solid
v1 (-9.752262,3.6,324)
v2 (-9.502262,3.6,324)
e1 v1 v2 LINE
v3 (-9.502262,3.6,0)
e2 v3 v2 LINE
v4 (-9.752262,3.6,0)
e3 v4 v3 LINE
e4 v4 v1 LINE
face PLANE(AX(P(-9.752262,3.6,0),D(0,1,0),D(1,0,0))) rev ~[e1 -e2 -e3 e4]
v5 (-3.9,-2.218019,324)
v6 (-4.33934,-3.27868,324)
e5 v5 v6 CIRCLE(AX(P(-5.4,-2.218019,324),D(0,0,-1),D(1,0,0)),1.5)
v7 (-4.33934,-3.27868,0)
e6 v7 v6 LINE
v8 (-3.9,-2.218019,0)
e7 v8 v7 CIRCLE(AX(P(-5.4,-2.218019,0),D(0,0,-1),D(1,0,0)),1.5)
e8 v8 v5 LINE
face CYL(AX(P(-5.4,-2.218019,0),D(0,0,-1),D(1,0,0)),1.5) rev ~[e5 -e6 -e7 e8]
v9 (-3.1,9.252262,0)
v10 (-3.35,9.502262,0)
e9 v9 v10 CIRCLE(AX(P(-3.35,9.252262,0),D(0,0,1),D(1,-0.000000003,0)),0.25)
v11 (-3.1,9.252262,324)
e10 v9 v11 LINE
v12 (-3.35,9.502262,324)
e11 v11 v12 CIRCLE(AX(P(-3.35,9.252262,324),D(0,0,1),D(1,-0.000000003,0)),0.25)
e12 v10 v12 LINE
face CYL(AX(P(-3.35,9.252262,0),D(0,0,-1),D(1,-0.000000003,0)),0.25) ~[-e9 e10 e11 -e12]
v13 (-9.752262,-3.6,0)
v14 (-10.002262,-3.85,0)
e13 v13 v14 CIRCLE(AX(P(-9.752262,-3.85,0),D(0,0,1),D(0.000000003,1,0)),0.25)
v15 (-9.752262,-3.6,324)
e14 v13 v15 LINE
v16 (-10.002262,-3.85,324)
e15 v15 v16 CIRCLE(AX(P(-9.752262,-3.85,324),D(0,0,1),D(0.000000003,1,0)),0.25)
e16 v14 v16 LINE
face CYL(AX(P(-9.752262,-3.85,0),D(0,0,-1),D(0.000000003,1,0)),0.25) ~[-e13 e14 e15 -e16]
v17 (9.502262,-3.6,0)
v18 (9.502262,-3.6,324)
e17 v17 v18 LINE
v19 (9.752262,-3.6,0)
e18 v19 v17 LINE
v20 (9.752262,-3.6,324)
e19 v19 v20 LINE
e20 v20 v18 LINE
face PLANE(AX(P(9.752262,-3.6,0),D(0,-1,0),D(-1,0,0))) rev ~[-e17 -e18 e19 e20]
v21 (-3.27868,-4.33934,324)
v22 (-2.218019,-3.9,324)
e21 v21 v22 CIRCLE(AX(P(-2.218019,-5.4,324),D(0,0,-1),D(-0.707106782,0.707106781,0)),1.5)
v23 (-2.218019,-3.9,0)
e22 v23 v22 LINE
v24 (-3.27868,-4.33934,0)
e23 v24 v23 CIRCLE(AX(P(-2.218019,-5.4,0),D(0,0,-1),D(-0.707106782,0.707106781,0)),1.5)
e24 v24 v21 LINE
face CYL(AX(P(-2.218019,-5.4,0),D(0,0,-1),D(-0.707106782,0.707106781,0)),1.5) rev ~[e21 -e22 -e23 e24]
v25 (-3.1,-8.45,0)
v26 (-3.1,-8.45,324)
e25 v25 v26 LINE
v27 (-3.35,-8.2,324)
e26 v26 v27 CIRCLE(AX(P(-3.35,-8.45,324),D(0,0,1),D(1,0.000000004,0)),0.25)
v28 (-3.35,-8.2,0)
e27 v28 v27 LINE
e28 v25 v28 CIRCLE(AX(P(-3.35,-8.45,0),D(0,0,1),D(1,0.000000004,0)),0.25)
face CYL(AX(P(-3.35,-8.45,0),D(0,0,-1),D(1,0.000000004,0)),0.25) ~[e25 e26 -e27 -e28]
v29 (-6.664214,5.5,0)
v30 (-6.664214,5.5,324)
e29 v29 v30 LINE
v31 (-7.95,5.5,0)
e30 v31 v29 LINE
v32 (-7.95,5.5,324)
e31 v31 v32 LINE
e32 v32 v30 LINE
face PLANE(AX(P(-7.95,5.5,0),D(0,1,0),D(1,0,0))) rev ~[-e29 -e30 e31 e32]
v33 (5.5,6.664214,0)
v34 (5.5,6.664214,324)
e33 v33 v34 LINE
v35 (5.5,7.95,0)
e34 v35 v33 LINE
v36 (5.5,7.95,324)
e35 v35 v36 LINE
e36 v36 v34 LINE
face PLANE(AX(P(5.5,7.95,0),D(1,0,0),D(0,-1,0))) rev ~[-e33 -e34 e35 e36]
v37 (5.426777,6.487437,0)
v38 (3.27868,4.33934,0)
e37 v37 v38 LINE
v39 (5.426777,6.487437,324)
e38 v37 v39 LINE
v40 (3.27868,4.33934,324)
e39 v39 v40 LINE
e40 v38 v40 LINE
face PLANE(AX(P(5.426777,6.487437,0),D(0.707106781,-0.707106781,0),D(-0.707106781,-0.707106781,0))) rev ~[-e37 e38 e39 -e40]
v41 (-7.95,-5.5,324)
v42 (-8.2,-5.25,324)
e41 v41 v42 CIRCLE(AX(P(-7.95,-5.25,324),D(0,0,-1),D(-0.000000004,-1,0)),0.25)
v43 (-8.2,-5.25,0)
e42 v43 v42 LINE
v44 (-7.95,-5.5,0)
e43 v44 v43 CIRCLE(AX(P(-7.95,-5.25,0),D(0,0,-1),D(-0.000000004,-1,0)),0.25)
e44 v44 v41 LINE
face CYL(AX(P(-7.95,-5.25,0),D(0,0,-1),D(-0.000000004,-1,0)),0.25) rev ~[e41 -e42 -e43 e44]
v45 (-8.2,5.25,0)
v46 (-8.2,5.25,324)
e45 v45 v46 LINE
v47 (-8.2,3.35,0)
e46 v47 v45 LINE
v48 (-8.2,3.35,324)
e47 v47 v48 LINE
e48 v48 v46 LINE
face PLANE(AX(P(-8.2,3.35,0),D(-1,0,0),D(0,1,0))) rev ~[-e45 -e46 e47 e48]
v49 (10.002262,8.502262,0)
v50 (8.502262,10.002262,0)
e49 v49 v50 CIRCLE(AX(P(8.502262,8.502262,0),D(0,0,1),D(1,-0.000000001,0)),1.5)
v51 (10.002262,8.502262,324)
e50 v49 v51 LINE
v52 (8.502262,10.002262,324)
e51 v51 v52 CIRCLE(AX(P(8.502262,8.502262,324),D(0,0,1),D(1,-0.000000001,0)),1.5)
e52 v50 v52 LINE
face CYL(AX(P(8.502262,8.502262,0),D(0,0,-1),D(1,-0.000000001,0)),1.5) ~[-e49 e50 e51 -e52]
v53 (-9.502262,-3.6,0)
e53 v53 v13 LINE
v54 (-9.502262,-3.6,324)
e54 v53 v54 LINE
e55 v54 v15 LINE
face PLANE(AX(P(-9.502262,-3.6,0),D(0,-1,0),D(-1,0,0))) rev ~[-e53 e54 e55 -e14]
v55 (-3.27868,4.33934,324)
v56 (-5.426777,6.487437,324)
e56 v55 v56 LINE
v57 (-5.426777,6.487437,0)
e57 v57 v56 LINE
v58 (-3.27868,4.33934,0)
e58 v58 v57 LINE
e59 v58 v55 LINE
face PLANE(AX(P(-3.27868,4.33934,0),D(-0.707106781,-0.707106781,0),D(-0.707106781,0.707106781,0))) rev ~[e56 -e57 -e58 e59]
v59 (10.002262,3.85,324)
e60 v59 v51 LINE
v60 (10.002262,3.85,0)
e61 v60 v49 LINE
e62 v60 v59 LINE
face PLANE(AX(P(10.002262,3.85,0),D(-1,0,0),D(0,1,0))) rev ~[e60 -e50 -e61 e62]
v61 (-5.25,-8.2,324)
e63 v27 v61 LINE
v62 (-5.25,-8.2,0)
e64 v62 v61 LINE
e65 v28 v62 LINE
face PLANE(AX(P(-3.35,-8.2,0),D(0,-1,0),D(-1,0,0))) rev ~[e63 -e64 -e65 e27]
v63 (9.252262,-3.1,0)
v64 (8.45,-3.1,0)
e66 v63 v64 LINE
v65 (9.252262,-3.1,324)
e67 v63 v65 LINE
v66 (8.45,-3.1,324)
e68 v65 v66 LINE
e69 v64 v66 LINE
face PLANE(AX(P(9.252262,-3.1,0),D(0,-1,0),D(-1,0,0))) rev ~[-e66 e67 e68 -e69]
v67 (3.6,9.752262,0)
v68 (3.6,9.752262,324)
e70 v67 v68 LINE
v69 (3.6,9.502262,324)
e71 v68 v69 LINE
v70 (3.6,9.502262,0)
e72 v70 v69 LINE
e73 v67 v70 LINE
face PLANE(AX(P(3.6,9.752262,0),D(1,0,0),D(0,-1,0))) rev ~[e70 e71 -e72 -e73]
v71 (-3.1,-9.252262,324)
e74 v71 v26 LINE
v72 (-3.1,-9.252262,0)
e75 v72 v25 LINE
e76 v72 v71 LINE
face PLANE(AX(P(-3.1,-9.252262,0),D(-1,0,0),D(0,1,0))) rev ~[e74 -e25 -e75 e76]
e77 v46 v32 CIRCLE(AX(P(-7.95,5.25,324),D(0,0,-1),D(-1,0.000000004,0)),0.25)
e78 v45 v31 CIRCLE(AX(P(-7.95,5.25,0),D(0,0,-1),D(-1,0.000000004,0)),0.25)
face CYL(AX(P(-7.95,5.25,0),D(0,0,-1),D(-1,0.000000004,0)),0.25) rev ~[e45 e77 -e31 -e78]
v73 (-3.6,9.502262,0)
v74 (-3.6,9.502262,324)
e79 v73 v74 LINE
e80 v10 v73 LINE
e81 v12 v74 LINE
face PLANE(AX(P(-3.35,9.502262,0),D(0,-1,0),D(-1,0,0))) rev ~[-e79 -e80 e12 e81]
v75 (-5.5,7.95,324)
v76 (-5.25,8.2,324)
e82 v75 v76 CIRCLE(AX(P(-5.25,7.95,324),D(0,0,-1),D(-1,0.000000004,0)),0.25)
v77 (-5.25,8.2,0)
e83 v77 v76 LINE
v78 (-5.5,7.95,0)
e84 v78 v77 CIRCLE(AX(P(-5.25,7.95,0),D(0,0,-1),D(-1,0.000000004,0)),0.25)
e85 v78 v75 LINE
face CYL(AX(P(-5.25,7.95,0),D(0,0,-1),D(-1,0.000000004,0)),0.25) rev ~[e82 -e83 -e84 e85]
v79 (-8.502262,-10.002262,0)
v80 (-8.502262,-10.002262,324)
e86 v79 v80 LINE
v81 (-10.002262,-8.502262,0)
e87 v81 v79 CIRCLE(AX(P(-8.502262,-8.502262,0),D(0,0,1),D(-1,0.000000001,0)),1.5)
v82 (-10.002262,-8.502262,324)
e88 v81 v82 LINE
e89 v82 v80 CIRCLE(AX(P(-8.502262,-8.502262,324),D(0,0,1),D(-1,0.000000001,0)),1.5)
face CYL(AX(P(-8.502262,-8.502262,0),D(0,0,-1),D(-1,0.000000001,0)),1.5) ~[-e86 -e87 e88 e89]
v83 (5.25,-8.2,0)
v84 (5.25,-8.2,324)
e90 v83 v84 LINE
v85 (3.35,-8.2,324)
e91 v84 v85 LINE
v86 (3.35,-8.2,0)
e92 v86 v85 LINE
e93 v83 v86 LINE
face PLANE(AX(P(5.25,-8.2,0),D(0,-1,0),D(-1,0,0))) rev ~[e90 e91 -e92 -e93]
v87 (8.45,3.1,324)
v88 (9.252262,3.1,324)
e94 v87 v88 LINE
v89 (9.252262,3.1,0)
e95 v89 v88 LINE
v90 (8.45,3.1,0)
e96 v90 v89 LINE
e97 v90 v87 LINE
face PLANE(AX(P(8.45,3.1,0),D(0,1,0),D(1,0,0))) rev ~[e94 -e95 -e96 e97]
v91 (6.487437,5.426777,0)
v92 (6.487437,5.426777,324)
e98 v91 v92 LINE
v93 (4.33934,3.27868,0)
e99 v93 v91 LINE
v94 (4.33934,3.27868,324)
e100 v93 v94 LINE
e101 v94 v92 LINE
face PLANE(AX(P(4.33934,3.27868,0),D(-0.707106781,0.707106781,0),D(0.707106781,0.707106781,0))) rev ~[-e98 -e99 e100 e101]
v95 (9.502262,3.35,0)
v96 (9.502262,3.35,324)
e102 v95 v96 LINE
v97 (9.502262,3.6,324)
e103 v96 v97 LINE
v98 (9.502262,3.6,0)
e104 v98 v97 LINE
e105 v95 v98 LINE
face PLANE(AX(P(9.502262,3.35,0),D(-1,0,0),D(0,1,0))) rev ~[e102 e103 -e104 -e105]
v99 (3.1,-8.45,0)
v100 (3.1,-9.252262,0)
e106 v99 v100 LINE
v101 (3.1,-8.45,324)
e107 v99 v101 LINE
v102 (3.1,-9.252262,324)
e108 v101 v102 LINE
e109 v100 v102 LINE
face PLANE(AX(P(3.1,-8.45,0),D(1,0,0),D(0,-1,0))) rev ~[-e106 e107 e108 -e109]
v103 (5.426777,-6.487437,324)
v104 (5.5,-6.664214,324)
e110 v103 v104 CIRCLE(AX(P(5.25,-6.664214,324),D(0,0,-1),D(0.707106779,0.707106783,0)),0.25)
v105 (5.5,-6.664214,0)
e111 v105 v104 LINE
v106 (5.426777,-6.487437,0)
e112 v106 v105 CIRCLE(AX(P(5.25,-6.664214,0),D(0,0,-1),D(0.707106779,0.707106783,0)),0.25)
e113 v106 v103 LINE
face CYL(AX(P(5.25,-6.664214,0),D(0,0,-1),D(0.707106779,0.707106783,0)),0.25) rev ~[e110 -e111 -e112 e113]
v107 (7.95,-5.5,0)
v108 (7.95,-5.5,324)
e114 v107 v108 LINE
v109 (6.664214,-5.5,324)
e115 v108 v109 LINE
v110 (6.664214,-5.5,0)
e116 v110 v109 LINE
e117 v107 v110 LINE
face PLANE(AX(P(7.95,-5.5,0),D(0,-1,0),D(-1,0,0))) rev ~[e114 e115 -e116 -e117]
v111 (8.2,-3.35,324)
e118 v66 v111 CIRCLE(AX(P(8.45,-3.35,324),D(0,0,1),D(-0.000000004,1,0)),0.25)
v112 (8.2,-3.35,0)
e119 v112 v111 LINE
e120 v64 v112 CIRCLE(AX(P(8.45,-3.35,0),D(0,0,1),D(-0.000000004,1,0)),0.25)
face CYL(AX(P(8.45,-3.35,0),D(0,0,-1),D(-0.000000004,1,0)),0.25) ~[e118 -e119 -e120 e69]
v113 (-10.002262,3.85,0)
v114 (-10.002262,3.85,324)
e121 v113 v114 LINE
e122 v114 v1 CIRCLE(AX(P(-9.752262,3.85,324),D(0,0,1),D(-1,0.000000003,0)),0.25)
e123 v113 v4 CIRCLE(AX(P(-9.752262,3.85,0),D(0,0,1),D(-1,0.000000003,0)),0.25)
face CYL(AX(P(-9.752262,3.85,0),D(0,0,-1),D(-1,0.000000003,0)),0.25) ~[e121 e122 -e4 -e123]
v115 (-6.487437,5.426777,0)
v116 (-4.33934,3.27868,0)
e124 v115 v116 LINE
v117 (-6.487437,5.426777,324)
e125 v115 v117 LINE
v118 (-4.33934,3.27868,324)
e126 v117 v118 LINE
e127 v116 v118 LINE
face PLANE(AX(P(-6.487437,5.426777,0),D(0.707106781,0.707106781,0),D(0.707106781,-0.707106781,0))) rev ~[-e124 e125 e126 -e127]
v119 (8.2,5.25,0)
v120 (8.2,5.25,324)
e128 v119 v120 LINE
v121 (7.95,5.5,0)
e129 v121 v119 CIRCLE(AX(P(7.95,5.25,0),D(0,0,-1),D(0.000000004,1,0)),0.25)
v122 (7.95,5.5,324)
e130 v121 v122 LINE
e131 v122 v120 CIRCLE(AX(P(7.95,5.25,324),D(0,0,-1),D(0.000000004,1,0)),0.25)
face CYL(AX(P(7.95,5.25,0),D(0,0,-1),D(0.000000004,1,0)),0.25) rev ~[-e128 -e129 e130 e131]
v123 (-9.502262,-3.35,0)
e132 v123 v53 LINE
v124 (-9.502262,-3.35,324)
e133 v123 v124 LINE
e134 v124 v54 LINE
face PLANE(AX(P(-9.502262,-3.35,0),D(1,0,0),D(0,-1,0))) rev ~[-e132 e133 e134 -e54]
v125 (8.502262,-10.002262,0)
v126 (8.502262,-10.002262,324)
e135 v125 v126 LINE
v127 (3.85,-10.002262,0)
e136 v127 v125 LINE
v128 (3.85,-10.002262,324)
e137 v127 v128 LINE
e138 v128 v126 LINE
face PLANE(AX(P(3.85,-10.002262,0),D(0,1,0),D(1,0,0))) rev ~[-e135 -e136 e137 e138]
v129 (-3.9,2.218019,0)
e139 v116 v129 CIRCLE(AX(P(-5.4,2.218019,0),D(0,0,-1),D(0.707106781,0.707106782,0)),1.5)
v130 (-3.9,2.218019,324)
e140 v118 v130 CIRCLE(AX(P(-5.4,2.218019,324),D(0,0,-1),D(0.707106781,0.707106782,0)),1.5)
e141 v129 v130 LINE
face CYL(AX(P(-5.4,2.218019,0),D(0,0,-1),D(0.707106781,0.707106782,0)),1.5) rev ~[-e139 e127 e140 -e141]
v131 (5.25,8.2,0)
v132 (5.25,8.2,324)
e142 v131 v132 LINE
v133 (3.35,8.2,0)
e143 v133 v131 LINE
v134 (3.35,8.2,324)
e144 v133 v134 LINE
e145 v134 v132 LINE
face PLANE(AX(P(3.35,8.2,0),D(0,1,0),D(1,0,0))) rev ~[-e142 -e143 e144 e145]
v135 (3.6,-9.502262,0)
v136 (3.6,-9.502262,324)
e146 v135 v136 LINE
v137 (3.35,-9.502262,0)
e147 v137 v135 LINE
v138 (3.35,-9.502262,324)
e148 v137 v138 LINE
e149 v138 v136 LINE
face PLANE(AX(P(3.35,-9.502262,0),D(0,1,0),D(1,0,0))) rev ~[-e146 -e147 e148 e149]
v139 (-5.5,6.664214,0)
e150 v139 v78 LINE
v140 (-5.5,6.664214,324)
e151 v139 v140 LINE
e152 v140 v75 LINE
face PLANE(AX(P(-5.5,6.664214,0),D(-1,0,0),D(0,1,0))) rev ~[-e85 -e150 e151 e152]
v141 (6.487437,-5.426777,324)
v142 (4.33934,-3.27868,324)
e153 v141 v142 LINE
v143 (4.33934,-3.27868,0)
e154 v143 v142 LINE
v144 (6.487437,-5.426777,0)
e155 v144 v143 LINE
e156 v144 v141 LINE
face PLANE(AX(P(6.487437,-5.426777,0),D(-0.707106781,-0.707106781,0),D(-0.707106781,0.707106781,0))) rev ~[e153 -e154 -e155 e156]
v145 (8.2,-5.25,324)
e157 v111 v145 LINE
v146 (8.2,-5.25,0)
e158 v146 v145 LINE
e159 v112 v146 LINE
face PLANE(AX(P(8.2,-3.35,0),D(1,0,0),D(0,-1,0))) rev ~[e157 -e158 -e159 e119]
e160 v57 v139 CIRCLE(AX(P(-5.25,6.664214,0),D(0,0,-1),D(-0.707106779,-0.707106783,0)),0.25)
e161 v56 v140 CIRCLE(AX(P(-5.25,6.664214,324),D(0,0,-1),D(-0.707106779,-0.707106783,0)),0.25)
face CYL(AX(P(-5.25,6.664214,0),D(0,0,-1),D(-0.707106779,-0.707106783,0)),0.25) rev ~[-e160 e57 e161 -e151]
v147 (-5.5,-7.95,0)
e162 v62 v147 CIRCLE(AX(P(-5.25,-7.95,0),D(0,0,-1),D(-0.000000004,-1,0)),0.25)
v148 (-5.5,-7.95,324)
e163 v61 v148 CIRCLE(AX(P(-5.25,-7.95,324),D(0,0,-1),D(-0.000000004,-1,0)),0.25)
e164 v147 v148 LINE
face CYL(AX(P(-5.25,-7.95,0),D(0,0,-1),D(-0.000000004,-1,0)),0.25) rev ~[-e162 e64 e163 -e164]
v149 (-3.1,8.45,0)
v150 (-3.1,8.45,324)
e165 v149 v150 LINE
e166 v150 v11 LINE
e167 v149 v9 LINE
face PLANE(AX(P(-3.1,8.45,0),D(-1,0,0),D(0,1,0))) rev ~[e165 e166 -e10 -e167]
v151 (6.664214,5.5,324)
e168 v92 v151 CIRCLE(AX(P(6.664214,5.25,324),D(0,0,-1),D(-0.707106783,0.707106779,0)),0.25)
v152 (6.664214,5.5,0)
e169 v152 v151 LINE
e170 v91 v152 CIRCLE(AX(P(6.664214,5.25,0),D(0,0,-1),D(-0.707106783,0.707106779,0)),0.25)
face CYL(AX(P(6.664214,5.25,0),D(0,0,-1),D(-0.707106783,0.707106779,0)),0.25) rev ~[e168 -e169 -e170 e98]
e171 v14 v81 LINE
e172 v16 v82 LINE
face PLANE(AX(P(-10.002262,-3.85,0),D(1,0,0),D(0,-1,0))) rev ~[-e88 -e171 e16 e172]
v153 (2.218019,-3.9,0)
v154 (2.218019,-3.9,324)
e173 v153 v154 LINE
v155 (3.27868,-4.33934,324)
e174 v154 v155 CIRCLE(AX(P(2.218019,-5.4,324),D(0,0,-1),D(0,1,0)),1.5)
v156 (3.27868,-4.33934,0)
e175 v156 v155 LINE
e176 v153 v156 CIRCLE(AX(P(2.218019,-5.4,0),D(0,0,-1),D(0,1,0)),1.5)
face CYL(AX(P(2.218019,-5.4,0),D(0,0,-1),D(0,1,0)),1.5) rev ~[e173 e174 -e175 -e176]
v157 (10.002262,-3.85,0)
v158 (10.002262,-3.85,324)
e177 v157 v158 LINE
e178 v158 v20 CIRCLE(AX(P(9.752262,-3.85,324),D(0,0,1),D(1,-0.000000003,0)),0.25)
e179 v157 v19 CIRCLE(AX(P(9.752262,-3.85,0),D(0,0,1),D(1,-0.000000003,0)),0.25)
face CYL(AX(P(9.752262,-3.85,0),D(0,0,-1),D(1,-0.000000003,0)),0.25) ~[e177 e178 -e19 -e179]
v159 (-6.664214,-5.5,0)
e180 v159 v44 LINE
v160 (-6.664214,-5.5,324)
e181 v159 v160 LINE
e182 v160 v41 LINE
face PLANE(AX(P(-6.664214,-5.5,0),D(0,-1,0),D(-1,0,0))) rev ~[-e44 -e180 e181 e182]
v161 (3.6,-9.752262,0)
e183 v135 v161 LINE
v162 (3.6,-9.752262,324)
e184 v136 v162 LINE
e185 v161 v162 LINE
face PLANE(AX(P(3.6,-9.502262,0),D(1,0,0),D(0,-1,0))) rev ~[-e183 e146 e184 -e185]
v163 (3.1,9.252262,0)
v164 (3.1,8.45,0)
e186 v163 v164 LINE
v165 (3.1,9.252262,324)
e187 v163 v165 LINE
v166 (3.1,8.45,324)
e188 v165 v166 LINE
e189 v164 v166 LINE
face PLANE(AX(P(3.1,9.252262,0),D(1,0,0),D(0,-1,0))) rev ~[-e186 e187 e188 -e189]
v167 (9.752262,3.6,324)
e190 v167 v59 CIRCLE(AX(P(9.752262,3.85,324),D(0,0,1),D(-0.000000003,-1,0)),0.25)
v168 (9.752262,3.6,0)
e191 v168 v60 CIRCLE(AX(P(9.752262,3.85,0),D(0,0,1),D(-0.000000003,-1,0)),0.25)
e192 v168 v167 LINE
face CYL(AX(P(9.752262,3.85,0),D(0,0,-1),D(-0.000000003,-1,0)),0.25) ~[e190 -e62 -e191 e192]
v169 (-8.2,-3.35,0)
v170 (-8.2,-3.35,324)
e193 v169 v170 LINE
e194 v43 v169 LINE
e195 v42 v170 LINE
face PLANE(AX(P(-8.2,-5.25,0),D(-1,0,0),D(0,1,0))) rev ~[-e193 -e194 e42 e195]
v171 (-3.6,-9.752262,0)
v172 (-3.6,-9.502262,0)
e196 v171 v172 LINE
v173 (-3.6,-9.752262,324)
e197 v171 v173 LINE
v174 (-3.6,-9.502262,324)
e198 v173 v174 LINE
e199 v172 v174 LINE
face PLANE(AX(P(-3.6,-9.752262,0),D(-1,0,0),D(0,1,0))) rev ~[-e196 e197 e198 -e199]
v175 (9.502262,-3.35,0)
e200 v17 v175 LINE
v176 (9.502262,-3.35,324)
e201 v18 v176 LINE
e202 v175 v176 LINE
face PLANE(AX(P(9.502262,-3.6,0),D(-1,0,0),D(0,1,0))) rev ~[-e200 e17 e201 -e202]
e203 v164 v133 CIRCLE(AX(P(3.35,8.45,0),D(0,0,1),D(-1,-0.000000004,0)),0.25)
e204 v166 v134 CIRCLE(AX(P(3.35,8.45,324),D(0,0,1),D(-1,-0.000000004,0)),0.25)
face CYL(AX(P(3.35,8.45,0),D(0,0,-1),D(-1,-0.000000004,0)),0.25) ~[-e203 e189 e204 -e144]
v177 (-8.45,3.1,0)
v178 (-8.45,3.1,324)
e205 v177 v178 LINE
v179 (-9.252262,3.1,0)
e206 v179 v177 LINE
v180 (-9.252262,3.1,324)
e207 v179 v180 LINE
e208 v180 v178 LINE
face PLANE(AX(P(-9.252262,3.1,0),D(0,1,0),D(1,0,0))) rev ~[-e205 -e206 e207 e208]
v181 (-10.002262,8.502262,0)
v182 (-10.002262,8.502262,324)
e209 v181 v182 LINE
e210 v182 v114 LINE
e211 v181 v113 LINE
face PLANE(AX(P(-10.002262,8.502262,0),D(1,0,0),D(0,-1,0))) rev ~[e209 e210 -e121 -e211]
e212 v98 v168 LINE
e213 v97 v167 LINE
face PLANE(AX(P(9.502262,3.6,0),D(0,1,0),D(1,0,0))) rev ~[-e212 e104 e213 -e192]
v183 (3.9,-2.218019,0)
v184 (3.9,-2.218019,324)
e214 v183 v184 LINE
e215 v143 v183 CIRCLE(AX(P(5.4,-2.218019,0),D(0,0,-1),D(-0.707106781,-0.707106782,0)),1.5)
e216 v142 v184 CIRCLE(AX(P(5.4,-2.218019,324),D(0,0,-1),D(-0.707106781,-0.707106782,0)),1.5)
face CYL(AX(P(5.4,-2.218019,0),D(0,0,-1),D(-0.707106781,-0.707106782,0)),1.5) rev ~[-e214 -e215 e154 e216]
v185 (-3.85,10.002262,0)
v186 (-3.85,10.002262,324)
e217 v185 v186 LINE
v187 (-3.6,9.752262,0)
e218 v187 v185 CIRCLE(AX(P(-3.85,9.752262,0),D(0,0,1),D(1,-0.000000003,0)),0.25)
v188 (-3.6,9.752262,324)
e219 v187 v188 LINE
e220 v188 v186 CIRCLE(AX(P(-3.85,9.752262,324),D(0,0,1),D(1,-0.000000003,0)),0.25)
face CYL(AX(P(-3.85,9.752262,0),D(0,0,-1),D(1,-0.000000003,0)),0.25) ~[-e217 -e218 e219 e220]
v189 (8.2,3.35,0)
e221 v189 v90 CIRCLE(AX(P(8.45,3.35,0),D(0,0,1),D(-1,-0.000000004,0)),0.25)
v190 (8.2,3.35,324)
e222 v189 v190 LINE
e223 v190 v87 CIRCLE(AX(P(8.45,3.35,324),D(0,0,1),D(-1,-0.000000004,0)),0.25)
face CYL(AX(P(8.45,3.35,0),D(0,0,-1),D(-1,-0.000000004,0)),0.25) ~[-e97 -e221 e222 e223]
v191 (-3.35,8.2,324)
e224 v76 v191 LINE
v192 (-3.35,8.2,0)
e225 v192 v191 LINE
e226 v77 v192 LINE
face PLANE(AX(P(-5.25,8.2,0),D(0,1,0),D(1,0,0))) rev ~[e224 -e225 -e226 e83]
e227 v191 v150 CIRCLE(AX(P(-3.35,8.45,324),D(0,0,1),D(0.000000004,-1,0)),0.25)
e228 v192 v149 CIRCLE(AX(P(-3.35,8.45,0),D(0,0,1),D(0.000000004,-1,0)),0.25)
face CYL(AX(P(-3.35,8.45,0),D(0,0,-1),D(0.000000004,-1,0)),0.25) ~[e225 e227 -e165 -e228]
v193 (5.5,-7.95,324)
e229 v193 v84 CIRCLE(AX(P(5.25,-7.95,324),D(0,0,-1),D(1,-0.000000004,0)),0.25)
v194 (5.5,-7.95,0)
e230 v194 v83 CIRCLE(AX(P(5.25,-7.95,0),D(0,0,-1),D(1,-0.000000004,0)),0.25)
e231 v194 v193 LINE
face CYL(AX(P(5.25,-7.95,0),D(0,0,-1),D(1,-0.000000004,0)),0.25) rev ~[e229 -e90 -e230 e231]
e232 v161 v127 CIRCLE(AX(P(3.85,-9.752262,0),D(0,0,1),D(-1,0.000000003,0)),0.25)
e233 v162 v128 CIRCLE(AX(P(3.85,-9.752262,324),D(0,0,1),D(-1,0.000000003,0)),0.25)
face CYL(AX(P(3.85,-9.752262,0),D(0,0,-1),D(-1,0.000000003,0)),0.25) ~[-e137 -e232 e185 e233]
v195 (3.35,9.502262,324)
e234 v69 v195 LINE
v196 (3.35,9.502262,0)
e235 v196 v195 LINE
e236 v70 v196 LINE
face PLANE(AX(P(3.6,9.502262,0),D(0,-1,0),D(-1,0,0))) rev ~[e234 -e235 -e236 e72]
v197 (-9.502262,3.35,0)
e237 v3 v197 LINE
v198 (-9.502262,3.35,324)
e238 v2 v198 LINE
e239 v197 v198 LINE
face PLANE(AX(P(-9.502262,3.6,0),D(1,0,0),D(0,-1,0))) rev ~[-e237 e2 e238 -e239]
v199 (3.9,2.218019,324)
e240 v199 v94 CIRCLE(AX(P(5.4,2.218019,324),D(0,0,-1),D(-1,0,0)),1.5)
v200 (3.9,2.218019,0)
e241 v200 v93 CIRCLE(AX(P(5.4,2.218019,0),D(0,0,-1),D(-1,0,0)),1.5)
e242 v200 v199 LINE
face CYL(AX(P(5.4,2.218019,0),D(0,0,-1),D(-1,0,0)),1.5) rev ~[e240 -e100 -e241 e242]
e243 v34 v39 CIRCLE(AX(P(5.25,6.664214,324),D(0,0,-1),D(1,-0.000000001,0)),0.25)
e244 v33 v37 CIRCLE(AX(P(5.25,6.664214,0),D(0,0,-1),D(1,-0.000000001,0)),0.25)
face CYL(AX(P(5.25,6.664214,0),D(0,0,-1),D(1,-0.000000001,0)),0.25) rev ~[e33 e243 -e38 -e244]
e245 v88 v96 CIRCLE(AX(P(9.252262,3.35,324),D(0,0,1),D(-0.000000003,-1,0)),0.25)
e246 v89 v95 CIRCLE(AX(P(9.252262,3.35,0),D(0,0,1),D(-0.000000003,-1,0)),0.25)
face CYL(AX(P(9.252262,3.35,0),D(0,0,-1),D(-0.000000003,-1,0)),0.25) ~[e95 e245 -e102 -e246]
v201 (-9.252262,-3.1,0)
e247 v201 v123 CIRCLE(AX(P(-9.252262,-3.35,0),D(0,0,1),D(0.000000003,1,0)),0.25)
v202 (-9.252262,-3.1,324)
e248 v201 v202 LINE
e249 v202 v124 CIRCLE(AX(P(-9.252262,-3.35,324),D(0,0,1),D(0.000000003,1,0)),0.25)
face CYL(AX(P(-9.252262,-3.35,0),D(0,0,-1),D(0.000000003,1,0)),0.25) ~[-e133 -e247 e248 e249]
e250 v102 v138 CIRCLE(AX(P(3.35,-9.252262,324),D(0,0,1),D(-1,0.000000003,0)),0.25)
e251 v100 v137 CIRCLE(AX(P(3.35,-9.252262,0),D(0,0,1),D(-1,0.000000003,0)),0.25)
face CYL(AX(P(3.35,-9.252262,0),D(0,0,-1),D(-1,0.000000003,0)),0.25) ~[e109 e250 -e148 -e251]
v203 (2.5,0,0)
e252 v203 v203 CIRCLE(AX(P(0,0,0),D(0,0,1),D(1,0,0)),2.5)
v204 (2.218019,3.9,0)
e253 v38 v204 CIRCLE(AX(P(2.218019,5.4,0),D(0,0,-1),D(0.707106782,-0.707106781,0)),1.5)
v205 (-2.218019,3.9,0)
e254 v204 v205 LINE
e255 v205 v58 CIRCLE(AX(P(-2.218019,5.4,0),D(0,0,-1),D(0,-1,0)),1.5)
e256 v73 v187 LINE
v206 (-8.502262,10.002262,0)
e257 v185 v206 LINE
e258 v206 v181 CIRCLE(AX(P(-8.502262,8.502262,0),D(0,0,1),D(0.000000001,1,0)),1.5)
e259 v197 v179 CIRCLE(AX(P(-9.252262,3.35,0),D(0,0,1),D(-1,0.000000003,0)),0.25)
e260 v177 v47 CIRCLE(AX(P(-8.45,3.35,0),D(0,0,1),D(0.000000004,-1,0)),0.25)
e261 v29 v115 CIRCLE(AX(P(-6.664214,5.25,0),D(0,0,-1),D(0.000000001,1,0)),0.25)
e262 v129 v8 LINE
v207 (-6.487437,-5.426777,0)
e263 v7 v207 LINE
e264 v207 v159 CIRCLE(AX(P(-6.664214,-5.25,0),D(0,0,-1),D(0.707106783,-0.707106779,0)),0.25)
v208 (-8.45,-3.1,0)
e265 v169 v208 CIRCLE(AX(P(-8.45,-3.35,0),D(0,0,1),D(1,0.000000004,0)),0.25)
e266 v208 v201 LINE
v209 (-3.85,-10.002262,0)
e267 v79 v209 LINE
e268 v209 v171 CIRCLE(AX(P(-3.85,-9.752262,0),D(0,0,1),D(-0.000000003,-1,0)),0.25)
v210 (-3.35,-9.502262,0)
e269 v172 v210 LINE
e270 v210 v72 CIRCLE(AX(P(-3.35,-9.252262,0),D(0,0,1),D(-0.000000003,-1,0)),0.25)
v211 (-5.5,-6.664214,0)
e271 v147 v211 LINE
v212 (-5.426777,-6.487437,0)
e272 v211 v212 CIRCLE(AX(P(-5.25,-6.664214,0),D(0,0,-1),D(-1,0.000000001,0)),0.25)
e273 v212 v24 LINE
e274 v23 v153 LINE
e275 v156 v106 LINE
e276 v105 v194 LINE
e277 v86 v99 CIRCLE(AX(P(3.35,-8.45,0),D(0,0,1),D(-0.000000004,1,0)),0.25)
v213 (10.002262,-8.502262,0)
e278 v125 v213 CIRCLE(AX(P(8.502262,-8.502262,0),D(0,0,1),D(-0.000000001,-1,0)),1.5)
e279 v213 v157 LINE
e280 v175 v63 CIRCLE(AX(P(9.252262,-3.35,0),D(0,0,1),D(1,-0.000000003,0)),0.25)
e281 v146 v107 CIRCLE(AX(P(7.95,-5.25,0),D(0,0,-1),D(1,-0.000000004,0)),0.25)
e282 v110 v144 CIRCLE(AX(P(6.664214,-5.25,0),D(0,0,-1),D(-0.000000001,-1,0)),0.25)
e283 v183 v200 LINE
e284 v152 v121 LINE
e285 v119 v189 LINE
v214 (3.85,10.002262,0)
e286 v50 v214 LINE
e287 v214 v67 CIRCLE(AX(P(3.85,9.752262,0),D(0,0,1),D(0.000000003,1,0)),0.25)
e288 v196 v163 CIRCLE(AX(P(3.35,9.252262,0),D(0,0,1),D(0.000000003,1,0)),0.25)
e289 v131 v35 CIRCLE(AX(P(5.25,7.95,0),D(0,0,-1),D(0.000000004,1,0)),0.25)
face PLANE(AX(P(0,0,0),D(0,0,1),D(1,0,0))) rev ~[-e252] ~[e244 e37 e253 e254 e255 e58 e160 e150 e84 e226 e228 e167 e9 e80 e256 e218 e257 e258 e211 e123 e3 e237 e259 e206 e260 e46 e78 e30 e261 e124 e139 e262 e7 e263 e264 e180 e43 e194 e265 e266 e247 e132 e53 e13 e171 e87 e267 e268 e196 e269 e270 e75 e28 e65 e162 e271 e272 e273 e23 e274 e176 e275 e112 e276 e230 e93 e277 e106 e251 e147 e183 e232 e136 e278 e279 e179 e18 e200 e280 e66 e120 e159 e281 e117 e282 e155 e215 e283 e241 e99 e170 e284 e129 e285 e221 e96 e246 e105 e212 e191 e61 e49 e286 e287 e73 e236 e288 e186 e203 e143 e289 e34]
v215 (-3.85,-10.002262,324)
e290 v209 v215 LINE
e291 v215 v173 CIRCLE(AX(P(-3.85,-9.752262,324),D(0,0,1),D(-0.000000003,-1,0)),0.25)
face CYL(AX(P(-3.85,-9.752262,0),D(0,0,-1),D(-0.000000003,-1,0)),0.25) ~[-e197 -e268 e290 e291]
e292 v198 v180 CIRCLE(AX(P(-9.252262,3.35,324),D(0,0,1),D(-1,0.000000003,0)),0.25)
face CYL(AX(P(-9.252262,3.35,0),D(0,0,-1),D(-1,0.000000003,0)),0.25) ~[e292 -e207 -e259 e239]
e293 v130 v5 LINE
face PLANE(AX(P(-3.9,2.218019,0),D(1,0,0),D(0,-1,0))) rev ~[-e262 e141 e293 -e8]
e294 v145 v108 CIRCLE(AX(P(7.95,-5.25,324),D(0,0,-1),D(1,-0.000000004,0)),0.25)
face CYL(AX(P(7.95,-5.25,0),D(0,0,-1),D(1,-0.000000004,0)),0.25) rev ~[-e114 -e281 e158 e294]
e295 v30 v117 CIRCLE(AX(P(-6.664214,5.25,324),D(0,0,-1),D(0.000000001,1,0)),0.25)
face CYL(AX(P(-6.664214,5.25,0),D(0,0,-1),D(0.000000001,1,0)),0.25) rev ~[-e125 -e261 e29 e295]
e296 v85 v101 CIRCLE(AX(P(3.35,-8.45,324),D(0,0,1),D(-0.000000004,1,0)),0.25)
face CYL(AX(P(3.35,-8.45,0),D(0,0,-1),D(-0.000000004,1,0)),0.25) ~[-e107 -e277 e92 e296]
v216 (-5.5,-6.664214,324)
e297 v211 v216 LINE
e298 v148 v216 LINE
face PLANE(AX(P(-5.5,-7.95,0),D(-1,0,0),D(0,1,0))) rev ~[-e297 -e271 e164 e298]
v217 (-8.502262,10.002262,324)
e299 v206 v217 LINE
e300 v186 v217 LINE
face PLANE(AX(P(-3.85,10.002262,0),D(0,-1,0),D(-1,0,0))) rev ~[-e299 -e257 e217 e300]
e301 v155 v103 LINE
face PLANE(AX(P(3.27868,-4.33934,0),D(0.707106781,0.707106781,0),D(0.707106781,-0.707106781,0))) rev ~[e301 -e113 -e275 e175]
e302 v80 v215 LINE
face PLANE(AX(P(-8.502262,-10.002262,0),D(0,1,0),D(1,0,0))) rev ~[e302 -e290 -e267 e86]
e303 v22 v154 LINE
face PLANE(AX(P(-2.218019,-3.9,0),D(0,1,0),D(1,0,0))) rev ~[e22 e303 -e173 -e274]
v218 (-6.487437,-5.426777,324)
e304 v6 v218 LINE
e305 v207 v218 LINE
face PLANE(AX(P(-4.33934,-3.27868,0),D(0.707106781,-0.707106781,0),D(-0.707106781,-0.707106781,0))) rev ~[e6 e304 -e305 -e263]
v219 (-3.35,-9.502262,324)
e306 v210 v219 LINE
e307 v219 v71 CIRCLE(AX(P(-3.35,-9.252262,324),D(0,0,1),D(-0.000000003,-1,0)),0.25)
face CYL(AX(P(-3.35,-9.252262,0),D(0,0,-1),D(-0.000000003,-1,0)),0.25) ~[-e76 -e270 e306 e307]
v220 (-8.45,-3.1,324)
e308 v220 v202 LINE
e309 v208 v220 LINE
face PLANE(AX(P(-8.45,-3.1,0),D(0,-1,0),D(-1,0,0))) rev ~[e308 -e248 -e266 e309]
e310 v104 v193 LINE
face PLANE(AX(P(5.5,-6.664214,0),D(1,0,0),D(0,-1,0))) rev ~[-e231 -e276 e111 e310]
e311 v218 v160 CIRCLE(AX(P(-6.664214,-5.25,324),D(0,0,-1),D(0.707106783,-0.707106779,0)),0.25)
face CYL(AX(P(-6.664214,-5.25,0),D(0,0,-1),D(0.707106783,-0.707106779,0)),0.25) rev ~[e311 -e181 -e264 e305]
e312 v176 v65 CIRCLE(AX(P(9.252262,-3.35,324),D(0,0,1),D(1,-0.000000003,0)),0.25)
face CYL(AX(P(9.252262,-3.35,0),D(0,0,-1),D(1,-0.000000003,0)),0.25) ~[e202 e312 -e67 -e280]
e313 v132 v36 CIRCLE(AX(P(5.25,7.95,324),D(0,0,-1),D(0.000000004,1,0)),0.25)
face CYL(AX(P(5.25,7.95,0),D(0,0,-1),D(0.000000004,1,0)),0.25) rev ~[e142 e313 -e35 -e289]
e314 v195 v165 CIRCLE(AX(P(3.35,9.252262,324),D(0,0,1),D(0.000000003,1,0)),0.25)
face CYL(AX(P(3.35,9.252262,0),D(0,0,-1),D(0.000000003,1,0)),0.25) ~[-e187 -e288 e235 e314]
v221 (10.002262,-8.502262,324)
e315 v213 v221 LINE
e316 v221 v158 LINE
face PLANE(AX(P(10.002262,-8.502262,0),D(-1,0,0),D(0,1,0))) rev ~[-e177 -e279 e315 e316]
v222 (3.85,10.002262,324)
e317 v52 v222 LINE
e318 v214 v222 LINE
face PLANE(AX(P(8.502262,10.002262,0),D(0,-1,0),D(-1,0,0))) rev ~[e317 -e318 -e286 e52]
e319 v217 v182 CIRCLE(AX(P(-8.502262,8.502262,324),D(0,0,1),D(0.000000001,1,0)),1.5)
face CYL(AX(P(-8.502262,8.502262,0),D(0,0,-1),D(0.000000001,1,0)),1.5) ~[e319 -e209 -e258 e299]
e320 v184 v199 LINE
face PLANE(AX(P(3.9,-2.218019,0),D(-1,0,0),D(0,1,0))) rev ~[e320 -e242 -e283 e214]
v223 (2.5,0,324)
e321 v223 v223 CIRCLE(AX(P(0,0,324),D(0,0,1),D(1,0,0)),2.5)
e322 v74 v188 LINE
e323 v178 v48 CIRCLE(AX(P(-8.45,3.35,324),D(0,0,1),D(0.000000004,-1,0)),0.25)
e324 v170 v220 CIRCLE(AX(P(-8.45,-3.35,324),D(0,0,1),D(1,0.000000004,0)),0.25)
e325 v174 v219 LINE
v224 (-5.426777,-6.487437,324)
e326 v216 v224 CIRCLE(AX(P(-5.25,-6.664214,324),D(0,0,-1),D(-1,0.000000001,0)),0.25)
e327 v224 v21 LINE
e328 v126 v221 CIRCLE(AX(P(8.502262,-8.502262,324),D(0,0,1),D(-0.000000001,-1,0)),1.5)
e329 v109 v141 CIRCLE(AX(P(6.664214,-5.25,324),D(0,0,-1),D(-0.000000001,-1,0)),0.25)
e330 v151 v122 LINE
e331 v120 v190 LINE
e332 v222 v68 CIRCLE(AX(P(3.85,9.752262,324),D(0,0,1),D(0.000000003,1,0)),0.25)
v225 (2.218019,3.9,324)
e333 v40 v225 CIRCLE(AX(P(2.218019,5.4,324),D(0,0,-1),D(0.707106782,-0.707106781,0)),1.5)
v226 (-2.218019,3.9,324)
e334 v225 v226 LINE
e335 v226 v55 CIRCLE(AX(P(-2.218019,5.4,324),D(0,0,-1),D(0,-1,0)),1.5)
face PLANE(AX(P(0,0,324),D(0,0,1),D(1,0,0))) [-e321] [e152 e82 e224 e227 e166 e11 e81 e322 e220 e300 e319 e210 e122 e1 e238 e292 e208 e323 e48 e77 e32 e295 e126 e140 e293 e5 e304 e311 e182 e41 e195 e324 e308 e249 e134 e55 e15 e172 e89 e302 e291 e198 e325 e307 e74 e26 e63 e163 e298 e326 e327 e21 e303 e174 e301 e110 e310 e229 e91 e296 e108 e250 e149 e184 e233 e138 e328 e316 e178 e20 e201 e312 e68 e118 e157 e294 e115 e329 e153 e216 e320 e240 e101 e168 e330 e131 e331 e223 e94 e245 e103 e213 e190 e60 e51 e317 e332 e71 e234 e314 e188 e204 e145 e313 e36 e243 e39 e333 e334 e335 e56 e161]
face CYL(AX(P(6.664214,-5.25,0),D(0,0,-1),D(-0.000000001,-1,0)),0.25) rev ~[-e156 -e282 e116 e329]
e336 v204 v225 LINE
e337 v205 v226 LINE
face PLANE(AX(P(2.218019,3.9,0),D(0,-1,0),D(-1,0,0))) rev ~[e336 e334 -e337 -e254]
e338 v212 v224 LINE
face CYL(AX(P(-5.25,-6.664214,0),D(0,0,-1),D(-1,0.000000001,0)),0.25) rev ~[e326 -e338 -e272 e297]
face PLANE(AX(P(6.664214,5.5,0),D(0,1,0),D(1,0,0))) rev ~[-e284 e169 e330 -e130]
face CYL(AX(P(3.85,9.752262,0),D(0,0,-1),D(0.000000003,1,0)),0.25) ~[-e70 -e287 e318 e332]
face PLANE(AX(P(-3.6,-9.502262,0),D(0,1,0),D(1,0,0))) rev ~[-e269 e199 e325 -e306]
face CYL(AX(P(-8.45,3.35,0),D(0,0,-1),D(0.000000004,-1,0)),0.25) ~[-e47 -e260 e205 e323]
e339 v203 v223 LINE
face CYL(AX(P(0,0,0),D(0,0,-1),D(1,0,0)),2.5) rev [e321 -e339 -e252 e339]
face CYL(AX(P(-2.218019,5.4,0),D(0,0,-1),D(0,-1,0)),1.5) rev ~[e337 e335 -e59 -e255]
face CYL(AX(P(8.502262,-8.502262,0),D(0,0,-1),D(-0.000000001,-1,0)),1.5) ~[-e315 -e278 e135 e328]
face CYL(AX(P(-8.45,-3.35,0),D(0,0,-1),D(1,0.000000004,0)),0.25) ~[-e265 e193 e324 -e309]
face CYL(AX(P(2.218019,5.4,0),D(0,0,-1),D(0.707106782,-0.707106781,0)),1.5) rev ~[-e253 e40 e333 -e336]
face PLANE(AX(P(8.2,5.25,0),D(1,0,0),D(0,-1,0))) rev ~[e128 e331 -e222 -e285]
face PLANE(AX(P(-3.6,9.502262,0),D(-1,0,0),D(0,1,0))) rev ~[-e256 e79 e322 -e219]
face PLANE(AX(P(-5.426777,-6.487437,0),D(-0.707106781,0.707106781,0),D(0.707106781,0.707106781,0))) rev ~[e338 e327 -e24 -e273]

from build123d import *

# Parameters (mm, degrees)
SKETCH_1_R      = 2.5
EXTRUDE_1_DEPTH = 324


with BuildPart() as part:
    # 草图1 → 凸台-拉伸1 (new body)
    with BuildSketch(Plane.XY):
        with BuildLine():
            Line((-8.502261885, -10.002261885), (-3.85, -10.002261885))
            ThreePointArc((-3.85, -10.002261885), (-3.673223305, -9.929038581), (-3.6, -9.752261885))
            Line((-3.6, -9.752261885), (-3.6, -9.502261885))
            Line((-3.6, -9.502261885), (-3.35, -9.502261885))
            ThreePointArc((-3.35, -9.502261885), (-3.173223305, -9.429038581), (-3.1, -9.252261885))
            Line((-3.1, -9.252261885), (-3.1, -8.45))
            ThreePointArc((-3.1, -8.45), (-3.173223305, -8.273223305), (-3.35, -8.2))
            Line((-3.35, -8.2), (-5.25, -8.2))
            ThreePointArc((-5.25, -8.2), (-5.426776695, -8.126776695), (-5.5, -7.95))
            Line((-5.5, -7.95), (-5.5, -6.664213562))
            ThreePointArc((-5.5, -6.664213562), (-5.480969883, -6.568542704), (-5.426776695, -6.487436867))
            Line((-5.426776695, -6.487436867), (-3.278679656, -4.339339828))
            ThreePointArc((-3.278679656, -4.339339828), (-2.792044633, -4.014180701), (-2.218019485, -3.9))
            Line((-2.218019485, -3.9), (2.218019485, -3.9))
            ThreePointArc((2.218019485, -3.9), (2.792044633, -4.014180701), (3.278679656, -4.339339828))
            Line((3.278679656, -4.339339828), (5.426776695, -6.487436867))
            ThreePointArc((5.426776695, -6.487436867), (5.480969883, -6.568542704), (5.5, -6.664213562))
            Line((5.5, -6.664213562), (5.5, -7.95))
            ThreePointArc((5.5, -7.95), (5.426776695, -8.126776695), (5.25, -8.2))
            Line((5.25, -8.2), (3.35, -8.2))
            ThreePointArc((3.35, -8.2), (3.173223305, -8.273223305), (3.1, -8.45))
            Line((3.1, -8.45), (3.1, -9.252261885))
            ThreePointArc((3.1, -9.252261885), (3.173223305, -9.429038581), (3.35, -9.502261885))
            Line((3.35, -9.502261885), (3.6, -9.502261885))
            Line((3.6, -9.502261885), (3.6, -9.752261885))
            ThreePointArc((3.6, -9.752261885), (3.673223305, -9.929038581), (3.85, -10.002261885))
            Line((3.85, -10.002261885), (8.502261885, -10.002261885))
            ThreePointArc((8.502261885, -10.002261885), (9.562922057, -9.562922057), (10.002261885, -8.502261885))
            Line((10.002261885, -8.502261885), (10.002261885, -3.85))
            ThreePointArc((10.002261885, -3.85), (9.929038581, -3.673223305), (9.752261885, -3.6))
            Line((9.752261885, -3.6), (9.502261885, -3.6))
            Line((9.502261885, -3.6), (9.502261885, -3.35))
            ThreePointArc((9.502261885, -3.35), (9.429038581, -3.173223305), (9.252261885, -3.1))
            Line((9.252261885, -3.1), (8.45, -3.1))
            ThreePointArc((8.45, -3.1), (8.273223305, -3.173223305), (8.2, -3.35))
            Line((8.2, -3.35), (8.2, -5.25))
            ThreePointArc((8.2, -5.25), (8.126776695, -5.426776695), (7.95, -5.5))
            Line((7.95, -5.5), (6.664213562, -5.5))
            ThreePointArc((6.664213562, -5.5), (6.568542704, -5.480969883), (6.487436867, -5.426776695))
            Line((6.487436867, -5.426776695), (4.339339828, -3.278679656))
            ThreePointArc((4.339339828, -3.278679656), (4.014180701, -2.792044633), (3.9, -2.218019485))
            Line((3.9, -2.218019485), (3.9, 2.218019485))
            ThreePointArc((3.9, 2.218019485), (4.014180701, 2.792044633), (4.339339828, 3.278679656))
            Line((4.339339828, 3.278679656), (6.487436867, 5.426776695))
            ThreePointArc((6.487436867, 5.426776695), (6.568542704, 5.480969883), (6.664213562, 5.5))
            Line((6.664213562, 5.5), (7.95, 5.5))
            ThreePointArc((7.95, 5.5), (8.126776695, 5.426776695), (8.2, 5.25))
            Line((8.2, 5.25), (8.2, 3.35))
            ThreePointArc((8.2, 3.35), (8.273223305, 3.173223305), (8.45, 3.1))
            Line((8.45, 3.1), (9.252261885, 3.1))
            ThreePointArc((9.252261885, 3.1), (9.429038581, 3.173223305), (9.502261885, 3.35))
            Line((9.502261885, 3.35), (9.502261885, 3.6))
            Line((9.502261885, 3.6), (9.752261885, 3.6))
            ThreePointArc((9.752261885, 3.6), (9.929038581, 3.673223305), (10.002261885, 3.85))
            Line((10.002261885, 3.85), (10.002261885, 8.502261885))
            ThreePointArc((10.002261885, 8.502261885), (9.562922057, 9.562922057), (8.502261885, 10.002261885))
            Line((8.502261885, 10.002261885), (3.85, 10.002261885))
            ThreePointArc((3.85, 10.002261885), (3.673223305, 9.929038581), (3.6, 9.752261885))
            Line((3.6, 9.752261885), (3.6, 9.502261885))
            Line((3.6, 9.502261885), (3.35, 9.502261885))
            ThreePointArc((3.35, 9.502261885), (3.173223305, 9.429038581), (3.1, 9.252261885))
            Line((3.1, 9.252261885), (3.1, 8.45))
            ThreePointArc((3.1, 8.45), (3.173223305, 8.273223305), (3.35, 8.2))
            Line((3.35, 8.2), (5.25, 8.2))
            ThreePointArc((5.25, 8.2), (5.426776695, 8.126776695), (5.5, 7.95))
            Line((5.5, 7.95), (5.5, 6.664213562))
            ThreePointArc((5.5, 6.664213562), (5.480969883, 6.568542704), (5.426776695, 6.487436867))
            Line((5.426776695, 6.487436867), (3.278679656, 4.339339828))
            ThreePointArc((3.278679656, 4.339339828), (2.792044633, 4.014180701), (2.218019485, 3.9))
            Line((2.218019485, 3.9), (-2.218019485, 3.9))
            ThreePointArc((-2.218019485, 3.9), (-2.792044633, 4.014180701), (-3.278679656, 4.339339828))
            Line((-3.278679656, 4.339339828), (-5.426776695, 6.487436867))
            ThreePointArc((-5.426776695, 6.487436867), (-5.480969883, 6.568542704), (-5.5, 6.664213562))
            Line((-5.5, 6.664213562), (-5.5, 7.95))
            ThreePointArc((-5.5, 7.95), (-5.426776695, 8.126776695), (-5.25, 8.2))
            Line((-5.25, 8.2), (-3.35, 8.2))
            ThreePointArc((-3.35, 8.2), (-3.173223305, 8.273223305), (-3.1, 8.45))
            Line((-3.1, 8.45), (-3.1, 9.252261885))
            ThreePointArc((-3.1, 9.252261885), (-3.173223305, 9.429038581), (-3.35, 9.502261885))
            Line((-3.35, 9.502261885), (-3.6, 9.502261885))
            Line((-3.6, 9.502261885), (-3.6, 9.752261885))
            ThreePointArc((-3.6, 9.752261885), (-3.673223305, 9.929038581), (-3.85, 10.002261885))
            Line((-3.85, 10.002261885), (-8.502261885, 10.002261885))
            ThreePointArc((-8.502261885, 10.002261885), (-9.562922057, 9.562922057), (-10.002261885, 8.502261885))
            Line((-10.002261885, 8.502261885), (-10.002261885, 3.85))
            ThreePointArc((-10.002261885, 3.85), (-9.929038581, 3.673223305), (-9.752261885, 3.6))
            Line((-9.752261885, 3.6), (-9.502261885, 3.6))
            Line((-9.502261885, 3.6), (-9.502261885, 3.35))
            ThreePointArc((-9.502261885, 3.35), (-9.429038581, 3.173223305), (-9.252261885, 3.1))
            Line((-9.252261885, 3.1), (-8.45, 3.1))
            ThreePointArc((-8.45, 3.1), (-8.273223305, 3.173223305), (-8.2, 3.35))
            Line((-8.2, 3.35), (-8.2, 5.25))
            ThreePointArc((-8.2, 5.25), (-8.126776695, 5.426776695), (-7.95, 5.5))
            Line((-7.95, 5.5), (-6.664213562, 5.5))
            ThreePointArc((-6.664213562, 5.5), (-6.568542704, 5.480969883), (-6.487436867, 5.426776695))
            Line((-6.487436867, 5.426776695), (-4.339339828, 3.278679656))
            ThreePointArc((-4.339339828, 3.278679656), (-4.014180701, 2.792044633), (-3.9, 2.218019485))
            Line((-3.9, 2.218019485), (-3.9, -2.218019485))
            ThreePointArc((-3.9, -2.218019485), (-4.014180701, -2.792044633), (-4.339339828, -3.278679656))
            Line((-4.339339828, -3.278679656), (-6.487436867, -5.426776695))
            ThreePointArc((-6.487436867, -5.426776695), (-6.568542704, -5.480969883), (-6.664213562, -5.5))
            Line((-6.664213562, -5.5), (-7.95, -5.5))
            ThreePointArc((-7.95, -5.5), (-8.126776695, -5.426776695), (-8.2, -5.25))
            Line((-8.2, -5.25), (-8.2, -3.35))
            ThreePointArc((-8.2, -3.35), (-8.273223305, -3.173223305), (-8.45, -3.1))
            Line((-8.45, -3.1), (-9.252261885, -3.1))
            ThreePointArc((-9.252261885, -3.1), (-9.429038581, -3.173223305), (-9.502261885, -3.35))
            Line((-9.502261885, -3.35), (-9.502261885, -3.6))
            Line((-9.502261885, -3.6), (-9.752261885, -3.6))
            ThreePointArc((-9.752261885, -3.6), (-9.929038581, -3.673223305), (-10.002261885, -3.85))
            Line((-10.002261885, -3.85), (-10.002261885, -8.502261885))
            ThreePointArc((-10.002261885, -8.502261885), (-9.562922057, -9.562922057), (-8.502261885, -10.002261885))
        make_face()
        Circle(SKETCH_1_R, mode=Mode.SUBTRACT)
    extrude(amount=EXTRUDE_1_DEPTH)


solid = part.part
